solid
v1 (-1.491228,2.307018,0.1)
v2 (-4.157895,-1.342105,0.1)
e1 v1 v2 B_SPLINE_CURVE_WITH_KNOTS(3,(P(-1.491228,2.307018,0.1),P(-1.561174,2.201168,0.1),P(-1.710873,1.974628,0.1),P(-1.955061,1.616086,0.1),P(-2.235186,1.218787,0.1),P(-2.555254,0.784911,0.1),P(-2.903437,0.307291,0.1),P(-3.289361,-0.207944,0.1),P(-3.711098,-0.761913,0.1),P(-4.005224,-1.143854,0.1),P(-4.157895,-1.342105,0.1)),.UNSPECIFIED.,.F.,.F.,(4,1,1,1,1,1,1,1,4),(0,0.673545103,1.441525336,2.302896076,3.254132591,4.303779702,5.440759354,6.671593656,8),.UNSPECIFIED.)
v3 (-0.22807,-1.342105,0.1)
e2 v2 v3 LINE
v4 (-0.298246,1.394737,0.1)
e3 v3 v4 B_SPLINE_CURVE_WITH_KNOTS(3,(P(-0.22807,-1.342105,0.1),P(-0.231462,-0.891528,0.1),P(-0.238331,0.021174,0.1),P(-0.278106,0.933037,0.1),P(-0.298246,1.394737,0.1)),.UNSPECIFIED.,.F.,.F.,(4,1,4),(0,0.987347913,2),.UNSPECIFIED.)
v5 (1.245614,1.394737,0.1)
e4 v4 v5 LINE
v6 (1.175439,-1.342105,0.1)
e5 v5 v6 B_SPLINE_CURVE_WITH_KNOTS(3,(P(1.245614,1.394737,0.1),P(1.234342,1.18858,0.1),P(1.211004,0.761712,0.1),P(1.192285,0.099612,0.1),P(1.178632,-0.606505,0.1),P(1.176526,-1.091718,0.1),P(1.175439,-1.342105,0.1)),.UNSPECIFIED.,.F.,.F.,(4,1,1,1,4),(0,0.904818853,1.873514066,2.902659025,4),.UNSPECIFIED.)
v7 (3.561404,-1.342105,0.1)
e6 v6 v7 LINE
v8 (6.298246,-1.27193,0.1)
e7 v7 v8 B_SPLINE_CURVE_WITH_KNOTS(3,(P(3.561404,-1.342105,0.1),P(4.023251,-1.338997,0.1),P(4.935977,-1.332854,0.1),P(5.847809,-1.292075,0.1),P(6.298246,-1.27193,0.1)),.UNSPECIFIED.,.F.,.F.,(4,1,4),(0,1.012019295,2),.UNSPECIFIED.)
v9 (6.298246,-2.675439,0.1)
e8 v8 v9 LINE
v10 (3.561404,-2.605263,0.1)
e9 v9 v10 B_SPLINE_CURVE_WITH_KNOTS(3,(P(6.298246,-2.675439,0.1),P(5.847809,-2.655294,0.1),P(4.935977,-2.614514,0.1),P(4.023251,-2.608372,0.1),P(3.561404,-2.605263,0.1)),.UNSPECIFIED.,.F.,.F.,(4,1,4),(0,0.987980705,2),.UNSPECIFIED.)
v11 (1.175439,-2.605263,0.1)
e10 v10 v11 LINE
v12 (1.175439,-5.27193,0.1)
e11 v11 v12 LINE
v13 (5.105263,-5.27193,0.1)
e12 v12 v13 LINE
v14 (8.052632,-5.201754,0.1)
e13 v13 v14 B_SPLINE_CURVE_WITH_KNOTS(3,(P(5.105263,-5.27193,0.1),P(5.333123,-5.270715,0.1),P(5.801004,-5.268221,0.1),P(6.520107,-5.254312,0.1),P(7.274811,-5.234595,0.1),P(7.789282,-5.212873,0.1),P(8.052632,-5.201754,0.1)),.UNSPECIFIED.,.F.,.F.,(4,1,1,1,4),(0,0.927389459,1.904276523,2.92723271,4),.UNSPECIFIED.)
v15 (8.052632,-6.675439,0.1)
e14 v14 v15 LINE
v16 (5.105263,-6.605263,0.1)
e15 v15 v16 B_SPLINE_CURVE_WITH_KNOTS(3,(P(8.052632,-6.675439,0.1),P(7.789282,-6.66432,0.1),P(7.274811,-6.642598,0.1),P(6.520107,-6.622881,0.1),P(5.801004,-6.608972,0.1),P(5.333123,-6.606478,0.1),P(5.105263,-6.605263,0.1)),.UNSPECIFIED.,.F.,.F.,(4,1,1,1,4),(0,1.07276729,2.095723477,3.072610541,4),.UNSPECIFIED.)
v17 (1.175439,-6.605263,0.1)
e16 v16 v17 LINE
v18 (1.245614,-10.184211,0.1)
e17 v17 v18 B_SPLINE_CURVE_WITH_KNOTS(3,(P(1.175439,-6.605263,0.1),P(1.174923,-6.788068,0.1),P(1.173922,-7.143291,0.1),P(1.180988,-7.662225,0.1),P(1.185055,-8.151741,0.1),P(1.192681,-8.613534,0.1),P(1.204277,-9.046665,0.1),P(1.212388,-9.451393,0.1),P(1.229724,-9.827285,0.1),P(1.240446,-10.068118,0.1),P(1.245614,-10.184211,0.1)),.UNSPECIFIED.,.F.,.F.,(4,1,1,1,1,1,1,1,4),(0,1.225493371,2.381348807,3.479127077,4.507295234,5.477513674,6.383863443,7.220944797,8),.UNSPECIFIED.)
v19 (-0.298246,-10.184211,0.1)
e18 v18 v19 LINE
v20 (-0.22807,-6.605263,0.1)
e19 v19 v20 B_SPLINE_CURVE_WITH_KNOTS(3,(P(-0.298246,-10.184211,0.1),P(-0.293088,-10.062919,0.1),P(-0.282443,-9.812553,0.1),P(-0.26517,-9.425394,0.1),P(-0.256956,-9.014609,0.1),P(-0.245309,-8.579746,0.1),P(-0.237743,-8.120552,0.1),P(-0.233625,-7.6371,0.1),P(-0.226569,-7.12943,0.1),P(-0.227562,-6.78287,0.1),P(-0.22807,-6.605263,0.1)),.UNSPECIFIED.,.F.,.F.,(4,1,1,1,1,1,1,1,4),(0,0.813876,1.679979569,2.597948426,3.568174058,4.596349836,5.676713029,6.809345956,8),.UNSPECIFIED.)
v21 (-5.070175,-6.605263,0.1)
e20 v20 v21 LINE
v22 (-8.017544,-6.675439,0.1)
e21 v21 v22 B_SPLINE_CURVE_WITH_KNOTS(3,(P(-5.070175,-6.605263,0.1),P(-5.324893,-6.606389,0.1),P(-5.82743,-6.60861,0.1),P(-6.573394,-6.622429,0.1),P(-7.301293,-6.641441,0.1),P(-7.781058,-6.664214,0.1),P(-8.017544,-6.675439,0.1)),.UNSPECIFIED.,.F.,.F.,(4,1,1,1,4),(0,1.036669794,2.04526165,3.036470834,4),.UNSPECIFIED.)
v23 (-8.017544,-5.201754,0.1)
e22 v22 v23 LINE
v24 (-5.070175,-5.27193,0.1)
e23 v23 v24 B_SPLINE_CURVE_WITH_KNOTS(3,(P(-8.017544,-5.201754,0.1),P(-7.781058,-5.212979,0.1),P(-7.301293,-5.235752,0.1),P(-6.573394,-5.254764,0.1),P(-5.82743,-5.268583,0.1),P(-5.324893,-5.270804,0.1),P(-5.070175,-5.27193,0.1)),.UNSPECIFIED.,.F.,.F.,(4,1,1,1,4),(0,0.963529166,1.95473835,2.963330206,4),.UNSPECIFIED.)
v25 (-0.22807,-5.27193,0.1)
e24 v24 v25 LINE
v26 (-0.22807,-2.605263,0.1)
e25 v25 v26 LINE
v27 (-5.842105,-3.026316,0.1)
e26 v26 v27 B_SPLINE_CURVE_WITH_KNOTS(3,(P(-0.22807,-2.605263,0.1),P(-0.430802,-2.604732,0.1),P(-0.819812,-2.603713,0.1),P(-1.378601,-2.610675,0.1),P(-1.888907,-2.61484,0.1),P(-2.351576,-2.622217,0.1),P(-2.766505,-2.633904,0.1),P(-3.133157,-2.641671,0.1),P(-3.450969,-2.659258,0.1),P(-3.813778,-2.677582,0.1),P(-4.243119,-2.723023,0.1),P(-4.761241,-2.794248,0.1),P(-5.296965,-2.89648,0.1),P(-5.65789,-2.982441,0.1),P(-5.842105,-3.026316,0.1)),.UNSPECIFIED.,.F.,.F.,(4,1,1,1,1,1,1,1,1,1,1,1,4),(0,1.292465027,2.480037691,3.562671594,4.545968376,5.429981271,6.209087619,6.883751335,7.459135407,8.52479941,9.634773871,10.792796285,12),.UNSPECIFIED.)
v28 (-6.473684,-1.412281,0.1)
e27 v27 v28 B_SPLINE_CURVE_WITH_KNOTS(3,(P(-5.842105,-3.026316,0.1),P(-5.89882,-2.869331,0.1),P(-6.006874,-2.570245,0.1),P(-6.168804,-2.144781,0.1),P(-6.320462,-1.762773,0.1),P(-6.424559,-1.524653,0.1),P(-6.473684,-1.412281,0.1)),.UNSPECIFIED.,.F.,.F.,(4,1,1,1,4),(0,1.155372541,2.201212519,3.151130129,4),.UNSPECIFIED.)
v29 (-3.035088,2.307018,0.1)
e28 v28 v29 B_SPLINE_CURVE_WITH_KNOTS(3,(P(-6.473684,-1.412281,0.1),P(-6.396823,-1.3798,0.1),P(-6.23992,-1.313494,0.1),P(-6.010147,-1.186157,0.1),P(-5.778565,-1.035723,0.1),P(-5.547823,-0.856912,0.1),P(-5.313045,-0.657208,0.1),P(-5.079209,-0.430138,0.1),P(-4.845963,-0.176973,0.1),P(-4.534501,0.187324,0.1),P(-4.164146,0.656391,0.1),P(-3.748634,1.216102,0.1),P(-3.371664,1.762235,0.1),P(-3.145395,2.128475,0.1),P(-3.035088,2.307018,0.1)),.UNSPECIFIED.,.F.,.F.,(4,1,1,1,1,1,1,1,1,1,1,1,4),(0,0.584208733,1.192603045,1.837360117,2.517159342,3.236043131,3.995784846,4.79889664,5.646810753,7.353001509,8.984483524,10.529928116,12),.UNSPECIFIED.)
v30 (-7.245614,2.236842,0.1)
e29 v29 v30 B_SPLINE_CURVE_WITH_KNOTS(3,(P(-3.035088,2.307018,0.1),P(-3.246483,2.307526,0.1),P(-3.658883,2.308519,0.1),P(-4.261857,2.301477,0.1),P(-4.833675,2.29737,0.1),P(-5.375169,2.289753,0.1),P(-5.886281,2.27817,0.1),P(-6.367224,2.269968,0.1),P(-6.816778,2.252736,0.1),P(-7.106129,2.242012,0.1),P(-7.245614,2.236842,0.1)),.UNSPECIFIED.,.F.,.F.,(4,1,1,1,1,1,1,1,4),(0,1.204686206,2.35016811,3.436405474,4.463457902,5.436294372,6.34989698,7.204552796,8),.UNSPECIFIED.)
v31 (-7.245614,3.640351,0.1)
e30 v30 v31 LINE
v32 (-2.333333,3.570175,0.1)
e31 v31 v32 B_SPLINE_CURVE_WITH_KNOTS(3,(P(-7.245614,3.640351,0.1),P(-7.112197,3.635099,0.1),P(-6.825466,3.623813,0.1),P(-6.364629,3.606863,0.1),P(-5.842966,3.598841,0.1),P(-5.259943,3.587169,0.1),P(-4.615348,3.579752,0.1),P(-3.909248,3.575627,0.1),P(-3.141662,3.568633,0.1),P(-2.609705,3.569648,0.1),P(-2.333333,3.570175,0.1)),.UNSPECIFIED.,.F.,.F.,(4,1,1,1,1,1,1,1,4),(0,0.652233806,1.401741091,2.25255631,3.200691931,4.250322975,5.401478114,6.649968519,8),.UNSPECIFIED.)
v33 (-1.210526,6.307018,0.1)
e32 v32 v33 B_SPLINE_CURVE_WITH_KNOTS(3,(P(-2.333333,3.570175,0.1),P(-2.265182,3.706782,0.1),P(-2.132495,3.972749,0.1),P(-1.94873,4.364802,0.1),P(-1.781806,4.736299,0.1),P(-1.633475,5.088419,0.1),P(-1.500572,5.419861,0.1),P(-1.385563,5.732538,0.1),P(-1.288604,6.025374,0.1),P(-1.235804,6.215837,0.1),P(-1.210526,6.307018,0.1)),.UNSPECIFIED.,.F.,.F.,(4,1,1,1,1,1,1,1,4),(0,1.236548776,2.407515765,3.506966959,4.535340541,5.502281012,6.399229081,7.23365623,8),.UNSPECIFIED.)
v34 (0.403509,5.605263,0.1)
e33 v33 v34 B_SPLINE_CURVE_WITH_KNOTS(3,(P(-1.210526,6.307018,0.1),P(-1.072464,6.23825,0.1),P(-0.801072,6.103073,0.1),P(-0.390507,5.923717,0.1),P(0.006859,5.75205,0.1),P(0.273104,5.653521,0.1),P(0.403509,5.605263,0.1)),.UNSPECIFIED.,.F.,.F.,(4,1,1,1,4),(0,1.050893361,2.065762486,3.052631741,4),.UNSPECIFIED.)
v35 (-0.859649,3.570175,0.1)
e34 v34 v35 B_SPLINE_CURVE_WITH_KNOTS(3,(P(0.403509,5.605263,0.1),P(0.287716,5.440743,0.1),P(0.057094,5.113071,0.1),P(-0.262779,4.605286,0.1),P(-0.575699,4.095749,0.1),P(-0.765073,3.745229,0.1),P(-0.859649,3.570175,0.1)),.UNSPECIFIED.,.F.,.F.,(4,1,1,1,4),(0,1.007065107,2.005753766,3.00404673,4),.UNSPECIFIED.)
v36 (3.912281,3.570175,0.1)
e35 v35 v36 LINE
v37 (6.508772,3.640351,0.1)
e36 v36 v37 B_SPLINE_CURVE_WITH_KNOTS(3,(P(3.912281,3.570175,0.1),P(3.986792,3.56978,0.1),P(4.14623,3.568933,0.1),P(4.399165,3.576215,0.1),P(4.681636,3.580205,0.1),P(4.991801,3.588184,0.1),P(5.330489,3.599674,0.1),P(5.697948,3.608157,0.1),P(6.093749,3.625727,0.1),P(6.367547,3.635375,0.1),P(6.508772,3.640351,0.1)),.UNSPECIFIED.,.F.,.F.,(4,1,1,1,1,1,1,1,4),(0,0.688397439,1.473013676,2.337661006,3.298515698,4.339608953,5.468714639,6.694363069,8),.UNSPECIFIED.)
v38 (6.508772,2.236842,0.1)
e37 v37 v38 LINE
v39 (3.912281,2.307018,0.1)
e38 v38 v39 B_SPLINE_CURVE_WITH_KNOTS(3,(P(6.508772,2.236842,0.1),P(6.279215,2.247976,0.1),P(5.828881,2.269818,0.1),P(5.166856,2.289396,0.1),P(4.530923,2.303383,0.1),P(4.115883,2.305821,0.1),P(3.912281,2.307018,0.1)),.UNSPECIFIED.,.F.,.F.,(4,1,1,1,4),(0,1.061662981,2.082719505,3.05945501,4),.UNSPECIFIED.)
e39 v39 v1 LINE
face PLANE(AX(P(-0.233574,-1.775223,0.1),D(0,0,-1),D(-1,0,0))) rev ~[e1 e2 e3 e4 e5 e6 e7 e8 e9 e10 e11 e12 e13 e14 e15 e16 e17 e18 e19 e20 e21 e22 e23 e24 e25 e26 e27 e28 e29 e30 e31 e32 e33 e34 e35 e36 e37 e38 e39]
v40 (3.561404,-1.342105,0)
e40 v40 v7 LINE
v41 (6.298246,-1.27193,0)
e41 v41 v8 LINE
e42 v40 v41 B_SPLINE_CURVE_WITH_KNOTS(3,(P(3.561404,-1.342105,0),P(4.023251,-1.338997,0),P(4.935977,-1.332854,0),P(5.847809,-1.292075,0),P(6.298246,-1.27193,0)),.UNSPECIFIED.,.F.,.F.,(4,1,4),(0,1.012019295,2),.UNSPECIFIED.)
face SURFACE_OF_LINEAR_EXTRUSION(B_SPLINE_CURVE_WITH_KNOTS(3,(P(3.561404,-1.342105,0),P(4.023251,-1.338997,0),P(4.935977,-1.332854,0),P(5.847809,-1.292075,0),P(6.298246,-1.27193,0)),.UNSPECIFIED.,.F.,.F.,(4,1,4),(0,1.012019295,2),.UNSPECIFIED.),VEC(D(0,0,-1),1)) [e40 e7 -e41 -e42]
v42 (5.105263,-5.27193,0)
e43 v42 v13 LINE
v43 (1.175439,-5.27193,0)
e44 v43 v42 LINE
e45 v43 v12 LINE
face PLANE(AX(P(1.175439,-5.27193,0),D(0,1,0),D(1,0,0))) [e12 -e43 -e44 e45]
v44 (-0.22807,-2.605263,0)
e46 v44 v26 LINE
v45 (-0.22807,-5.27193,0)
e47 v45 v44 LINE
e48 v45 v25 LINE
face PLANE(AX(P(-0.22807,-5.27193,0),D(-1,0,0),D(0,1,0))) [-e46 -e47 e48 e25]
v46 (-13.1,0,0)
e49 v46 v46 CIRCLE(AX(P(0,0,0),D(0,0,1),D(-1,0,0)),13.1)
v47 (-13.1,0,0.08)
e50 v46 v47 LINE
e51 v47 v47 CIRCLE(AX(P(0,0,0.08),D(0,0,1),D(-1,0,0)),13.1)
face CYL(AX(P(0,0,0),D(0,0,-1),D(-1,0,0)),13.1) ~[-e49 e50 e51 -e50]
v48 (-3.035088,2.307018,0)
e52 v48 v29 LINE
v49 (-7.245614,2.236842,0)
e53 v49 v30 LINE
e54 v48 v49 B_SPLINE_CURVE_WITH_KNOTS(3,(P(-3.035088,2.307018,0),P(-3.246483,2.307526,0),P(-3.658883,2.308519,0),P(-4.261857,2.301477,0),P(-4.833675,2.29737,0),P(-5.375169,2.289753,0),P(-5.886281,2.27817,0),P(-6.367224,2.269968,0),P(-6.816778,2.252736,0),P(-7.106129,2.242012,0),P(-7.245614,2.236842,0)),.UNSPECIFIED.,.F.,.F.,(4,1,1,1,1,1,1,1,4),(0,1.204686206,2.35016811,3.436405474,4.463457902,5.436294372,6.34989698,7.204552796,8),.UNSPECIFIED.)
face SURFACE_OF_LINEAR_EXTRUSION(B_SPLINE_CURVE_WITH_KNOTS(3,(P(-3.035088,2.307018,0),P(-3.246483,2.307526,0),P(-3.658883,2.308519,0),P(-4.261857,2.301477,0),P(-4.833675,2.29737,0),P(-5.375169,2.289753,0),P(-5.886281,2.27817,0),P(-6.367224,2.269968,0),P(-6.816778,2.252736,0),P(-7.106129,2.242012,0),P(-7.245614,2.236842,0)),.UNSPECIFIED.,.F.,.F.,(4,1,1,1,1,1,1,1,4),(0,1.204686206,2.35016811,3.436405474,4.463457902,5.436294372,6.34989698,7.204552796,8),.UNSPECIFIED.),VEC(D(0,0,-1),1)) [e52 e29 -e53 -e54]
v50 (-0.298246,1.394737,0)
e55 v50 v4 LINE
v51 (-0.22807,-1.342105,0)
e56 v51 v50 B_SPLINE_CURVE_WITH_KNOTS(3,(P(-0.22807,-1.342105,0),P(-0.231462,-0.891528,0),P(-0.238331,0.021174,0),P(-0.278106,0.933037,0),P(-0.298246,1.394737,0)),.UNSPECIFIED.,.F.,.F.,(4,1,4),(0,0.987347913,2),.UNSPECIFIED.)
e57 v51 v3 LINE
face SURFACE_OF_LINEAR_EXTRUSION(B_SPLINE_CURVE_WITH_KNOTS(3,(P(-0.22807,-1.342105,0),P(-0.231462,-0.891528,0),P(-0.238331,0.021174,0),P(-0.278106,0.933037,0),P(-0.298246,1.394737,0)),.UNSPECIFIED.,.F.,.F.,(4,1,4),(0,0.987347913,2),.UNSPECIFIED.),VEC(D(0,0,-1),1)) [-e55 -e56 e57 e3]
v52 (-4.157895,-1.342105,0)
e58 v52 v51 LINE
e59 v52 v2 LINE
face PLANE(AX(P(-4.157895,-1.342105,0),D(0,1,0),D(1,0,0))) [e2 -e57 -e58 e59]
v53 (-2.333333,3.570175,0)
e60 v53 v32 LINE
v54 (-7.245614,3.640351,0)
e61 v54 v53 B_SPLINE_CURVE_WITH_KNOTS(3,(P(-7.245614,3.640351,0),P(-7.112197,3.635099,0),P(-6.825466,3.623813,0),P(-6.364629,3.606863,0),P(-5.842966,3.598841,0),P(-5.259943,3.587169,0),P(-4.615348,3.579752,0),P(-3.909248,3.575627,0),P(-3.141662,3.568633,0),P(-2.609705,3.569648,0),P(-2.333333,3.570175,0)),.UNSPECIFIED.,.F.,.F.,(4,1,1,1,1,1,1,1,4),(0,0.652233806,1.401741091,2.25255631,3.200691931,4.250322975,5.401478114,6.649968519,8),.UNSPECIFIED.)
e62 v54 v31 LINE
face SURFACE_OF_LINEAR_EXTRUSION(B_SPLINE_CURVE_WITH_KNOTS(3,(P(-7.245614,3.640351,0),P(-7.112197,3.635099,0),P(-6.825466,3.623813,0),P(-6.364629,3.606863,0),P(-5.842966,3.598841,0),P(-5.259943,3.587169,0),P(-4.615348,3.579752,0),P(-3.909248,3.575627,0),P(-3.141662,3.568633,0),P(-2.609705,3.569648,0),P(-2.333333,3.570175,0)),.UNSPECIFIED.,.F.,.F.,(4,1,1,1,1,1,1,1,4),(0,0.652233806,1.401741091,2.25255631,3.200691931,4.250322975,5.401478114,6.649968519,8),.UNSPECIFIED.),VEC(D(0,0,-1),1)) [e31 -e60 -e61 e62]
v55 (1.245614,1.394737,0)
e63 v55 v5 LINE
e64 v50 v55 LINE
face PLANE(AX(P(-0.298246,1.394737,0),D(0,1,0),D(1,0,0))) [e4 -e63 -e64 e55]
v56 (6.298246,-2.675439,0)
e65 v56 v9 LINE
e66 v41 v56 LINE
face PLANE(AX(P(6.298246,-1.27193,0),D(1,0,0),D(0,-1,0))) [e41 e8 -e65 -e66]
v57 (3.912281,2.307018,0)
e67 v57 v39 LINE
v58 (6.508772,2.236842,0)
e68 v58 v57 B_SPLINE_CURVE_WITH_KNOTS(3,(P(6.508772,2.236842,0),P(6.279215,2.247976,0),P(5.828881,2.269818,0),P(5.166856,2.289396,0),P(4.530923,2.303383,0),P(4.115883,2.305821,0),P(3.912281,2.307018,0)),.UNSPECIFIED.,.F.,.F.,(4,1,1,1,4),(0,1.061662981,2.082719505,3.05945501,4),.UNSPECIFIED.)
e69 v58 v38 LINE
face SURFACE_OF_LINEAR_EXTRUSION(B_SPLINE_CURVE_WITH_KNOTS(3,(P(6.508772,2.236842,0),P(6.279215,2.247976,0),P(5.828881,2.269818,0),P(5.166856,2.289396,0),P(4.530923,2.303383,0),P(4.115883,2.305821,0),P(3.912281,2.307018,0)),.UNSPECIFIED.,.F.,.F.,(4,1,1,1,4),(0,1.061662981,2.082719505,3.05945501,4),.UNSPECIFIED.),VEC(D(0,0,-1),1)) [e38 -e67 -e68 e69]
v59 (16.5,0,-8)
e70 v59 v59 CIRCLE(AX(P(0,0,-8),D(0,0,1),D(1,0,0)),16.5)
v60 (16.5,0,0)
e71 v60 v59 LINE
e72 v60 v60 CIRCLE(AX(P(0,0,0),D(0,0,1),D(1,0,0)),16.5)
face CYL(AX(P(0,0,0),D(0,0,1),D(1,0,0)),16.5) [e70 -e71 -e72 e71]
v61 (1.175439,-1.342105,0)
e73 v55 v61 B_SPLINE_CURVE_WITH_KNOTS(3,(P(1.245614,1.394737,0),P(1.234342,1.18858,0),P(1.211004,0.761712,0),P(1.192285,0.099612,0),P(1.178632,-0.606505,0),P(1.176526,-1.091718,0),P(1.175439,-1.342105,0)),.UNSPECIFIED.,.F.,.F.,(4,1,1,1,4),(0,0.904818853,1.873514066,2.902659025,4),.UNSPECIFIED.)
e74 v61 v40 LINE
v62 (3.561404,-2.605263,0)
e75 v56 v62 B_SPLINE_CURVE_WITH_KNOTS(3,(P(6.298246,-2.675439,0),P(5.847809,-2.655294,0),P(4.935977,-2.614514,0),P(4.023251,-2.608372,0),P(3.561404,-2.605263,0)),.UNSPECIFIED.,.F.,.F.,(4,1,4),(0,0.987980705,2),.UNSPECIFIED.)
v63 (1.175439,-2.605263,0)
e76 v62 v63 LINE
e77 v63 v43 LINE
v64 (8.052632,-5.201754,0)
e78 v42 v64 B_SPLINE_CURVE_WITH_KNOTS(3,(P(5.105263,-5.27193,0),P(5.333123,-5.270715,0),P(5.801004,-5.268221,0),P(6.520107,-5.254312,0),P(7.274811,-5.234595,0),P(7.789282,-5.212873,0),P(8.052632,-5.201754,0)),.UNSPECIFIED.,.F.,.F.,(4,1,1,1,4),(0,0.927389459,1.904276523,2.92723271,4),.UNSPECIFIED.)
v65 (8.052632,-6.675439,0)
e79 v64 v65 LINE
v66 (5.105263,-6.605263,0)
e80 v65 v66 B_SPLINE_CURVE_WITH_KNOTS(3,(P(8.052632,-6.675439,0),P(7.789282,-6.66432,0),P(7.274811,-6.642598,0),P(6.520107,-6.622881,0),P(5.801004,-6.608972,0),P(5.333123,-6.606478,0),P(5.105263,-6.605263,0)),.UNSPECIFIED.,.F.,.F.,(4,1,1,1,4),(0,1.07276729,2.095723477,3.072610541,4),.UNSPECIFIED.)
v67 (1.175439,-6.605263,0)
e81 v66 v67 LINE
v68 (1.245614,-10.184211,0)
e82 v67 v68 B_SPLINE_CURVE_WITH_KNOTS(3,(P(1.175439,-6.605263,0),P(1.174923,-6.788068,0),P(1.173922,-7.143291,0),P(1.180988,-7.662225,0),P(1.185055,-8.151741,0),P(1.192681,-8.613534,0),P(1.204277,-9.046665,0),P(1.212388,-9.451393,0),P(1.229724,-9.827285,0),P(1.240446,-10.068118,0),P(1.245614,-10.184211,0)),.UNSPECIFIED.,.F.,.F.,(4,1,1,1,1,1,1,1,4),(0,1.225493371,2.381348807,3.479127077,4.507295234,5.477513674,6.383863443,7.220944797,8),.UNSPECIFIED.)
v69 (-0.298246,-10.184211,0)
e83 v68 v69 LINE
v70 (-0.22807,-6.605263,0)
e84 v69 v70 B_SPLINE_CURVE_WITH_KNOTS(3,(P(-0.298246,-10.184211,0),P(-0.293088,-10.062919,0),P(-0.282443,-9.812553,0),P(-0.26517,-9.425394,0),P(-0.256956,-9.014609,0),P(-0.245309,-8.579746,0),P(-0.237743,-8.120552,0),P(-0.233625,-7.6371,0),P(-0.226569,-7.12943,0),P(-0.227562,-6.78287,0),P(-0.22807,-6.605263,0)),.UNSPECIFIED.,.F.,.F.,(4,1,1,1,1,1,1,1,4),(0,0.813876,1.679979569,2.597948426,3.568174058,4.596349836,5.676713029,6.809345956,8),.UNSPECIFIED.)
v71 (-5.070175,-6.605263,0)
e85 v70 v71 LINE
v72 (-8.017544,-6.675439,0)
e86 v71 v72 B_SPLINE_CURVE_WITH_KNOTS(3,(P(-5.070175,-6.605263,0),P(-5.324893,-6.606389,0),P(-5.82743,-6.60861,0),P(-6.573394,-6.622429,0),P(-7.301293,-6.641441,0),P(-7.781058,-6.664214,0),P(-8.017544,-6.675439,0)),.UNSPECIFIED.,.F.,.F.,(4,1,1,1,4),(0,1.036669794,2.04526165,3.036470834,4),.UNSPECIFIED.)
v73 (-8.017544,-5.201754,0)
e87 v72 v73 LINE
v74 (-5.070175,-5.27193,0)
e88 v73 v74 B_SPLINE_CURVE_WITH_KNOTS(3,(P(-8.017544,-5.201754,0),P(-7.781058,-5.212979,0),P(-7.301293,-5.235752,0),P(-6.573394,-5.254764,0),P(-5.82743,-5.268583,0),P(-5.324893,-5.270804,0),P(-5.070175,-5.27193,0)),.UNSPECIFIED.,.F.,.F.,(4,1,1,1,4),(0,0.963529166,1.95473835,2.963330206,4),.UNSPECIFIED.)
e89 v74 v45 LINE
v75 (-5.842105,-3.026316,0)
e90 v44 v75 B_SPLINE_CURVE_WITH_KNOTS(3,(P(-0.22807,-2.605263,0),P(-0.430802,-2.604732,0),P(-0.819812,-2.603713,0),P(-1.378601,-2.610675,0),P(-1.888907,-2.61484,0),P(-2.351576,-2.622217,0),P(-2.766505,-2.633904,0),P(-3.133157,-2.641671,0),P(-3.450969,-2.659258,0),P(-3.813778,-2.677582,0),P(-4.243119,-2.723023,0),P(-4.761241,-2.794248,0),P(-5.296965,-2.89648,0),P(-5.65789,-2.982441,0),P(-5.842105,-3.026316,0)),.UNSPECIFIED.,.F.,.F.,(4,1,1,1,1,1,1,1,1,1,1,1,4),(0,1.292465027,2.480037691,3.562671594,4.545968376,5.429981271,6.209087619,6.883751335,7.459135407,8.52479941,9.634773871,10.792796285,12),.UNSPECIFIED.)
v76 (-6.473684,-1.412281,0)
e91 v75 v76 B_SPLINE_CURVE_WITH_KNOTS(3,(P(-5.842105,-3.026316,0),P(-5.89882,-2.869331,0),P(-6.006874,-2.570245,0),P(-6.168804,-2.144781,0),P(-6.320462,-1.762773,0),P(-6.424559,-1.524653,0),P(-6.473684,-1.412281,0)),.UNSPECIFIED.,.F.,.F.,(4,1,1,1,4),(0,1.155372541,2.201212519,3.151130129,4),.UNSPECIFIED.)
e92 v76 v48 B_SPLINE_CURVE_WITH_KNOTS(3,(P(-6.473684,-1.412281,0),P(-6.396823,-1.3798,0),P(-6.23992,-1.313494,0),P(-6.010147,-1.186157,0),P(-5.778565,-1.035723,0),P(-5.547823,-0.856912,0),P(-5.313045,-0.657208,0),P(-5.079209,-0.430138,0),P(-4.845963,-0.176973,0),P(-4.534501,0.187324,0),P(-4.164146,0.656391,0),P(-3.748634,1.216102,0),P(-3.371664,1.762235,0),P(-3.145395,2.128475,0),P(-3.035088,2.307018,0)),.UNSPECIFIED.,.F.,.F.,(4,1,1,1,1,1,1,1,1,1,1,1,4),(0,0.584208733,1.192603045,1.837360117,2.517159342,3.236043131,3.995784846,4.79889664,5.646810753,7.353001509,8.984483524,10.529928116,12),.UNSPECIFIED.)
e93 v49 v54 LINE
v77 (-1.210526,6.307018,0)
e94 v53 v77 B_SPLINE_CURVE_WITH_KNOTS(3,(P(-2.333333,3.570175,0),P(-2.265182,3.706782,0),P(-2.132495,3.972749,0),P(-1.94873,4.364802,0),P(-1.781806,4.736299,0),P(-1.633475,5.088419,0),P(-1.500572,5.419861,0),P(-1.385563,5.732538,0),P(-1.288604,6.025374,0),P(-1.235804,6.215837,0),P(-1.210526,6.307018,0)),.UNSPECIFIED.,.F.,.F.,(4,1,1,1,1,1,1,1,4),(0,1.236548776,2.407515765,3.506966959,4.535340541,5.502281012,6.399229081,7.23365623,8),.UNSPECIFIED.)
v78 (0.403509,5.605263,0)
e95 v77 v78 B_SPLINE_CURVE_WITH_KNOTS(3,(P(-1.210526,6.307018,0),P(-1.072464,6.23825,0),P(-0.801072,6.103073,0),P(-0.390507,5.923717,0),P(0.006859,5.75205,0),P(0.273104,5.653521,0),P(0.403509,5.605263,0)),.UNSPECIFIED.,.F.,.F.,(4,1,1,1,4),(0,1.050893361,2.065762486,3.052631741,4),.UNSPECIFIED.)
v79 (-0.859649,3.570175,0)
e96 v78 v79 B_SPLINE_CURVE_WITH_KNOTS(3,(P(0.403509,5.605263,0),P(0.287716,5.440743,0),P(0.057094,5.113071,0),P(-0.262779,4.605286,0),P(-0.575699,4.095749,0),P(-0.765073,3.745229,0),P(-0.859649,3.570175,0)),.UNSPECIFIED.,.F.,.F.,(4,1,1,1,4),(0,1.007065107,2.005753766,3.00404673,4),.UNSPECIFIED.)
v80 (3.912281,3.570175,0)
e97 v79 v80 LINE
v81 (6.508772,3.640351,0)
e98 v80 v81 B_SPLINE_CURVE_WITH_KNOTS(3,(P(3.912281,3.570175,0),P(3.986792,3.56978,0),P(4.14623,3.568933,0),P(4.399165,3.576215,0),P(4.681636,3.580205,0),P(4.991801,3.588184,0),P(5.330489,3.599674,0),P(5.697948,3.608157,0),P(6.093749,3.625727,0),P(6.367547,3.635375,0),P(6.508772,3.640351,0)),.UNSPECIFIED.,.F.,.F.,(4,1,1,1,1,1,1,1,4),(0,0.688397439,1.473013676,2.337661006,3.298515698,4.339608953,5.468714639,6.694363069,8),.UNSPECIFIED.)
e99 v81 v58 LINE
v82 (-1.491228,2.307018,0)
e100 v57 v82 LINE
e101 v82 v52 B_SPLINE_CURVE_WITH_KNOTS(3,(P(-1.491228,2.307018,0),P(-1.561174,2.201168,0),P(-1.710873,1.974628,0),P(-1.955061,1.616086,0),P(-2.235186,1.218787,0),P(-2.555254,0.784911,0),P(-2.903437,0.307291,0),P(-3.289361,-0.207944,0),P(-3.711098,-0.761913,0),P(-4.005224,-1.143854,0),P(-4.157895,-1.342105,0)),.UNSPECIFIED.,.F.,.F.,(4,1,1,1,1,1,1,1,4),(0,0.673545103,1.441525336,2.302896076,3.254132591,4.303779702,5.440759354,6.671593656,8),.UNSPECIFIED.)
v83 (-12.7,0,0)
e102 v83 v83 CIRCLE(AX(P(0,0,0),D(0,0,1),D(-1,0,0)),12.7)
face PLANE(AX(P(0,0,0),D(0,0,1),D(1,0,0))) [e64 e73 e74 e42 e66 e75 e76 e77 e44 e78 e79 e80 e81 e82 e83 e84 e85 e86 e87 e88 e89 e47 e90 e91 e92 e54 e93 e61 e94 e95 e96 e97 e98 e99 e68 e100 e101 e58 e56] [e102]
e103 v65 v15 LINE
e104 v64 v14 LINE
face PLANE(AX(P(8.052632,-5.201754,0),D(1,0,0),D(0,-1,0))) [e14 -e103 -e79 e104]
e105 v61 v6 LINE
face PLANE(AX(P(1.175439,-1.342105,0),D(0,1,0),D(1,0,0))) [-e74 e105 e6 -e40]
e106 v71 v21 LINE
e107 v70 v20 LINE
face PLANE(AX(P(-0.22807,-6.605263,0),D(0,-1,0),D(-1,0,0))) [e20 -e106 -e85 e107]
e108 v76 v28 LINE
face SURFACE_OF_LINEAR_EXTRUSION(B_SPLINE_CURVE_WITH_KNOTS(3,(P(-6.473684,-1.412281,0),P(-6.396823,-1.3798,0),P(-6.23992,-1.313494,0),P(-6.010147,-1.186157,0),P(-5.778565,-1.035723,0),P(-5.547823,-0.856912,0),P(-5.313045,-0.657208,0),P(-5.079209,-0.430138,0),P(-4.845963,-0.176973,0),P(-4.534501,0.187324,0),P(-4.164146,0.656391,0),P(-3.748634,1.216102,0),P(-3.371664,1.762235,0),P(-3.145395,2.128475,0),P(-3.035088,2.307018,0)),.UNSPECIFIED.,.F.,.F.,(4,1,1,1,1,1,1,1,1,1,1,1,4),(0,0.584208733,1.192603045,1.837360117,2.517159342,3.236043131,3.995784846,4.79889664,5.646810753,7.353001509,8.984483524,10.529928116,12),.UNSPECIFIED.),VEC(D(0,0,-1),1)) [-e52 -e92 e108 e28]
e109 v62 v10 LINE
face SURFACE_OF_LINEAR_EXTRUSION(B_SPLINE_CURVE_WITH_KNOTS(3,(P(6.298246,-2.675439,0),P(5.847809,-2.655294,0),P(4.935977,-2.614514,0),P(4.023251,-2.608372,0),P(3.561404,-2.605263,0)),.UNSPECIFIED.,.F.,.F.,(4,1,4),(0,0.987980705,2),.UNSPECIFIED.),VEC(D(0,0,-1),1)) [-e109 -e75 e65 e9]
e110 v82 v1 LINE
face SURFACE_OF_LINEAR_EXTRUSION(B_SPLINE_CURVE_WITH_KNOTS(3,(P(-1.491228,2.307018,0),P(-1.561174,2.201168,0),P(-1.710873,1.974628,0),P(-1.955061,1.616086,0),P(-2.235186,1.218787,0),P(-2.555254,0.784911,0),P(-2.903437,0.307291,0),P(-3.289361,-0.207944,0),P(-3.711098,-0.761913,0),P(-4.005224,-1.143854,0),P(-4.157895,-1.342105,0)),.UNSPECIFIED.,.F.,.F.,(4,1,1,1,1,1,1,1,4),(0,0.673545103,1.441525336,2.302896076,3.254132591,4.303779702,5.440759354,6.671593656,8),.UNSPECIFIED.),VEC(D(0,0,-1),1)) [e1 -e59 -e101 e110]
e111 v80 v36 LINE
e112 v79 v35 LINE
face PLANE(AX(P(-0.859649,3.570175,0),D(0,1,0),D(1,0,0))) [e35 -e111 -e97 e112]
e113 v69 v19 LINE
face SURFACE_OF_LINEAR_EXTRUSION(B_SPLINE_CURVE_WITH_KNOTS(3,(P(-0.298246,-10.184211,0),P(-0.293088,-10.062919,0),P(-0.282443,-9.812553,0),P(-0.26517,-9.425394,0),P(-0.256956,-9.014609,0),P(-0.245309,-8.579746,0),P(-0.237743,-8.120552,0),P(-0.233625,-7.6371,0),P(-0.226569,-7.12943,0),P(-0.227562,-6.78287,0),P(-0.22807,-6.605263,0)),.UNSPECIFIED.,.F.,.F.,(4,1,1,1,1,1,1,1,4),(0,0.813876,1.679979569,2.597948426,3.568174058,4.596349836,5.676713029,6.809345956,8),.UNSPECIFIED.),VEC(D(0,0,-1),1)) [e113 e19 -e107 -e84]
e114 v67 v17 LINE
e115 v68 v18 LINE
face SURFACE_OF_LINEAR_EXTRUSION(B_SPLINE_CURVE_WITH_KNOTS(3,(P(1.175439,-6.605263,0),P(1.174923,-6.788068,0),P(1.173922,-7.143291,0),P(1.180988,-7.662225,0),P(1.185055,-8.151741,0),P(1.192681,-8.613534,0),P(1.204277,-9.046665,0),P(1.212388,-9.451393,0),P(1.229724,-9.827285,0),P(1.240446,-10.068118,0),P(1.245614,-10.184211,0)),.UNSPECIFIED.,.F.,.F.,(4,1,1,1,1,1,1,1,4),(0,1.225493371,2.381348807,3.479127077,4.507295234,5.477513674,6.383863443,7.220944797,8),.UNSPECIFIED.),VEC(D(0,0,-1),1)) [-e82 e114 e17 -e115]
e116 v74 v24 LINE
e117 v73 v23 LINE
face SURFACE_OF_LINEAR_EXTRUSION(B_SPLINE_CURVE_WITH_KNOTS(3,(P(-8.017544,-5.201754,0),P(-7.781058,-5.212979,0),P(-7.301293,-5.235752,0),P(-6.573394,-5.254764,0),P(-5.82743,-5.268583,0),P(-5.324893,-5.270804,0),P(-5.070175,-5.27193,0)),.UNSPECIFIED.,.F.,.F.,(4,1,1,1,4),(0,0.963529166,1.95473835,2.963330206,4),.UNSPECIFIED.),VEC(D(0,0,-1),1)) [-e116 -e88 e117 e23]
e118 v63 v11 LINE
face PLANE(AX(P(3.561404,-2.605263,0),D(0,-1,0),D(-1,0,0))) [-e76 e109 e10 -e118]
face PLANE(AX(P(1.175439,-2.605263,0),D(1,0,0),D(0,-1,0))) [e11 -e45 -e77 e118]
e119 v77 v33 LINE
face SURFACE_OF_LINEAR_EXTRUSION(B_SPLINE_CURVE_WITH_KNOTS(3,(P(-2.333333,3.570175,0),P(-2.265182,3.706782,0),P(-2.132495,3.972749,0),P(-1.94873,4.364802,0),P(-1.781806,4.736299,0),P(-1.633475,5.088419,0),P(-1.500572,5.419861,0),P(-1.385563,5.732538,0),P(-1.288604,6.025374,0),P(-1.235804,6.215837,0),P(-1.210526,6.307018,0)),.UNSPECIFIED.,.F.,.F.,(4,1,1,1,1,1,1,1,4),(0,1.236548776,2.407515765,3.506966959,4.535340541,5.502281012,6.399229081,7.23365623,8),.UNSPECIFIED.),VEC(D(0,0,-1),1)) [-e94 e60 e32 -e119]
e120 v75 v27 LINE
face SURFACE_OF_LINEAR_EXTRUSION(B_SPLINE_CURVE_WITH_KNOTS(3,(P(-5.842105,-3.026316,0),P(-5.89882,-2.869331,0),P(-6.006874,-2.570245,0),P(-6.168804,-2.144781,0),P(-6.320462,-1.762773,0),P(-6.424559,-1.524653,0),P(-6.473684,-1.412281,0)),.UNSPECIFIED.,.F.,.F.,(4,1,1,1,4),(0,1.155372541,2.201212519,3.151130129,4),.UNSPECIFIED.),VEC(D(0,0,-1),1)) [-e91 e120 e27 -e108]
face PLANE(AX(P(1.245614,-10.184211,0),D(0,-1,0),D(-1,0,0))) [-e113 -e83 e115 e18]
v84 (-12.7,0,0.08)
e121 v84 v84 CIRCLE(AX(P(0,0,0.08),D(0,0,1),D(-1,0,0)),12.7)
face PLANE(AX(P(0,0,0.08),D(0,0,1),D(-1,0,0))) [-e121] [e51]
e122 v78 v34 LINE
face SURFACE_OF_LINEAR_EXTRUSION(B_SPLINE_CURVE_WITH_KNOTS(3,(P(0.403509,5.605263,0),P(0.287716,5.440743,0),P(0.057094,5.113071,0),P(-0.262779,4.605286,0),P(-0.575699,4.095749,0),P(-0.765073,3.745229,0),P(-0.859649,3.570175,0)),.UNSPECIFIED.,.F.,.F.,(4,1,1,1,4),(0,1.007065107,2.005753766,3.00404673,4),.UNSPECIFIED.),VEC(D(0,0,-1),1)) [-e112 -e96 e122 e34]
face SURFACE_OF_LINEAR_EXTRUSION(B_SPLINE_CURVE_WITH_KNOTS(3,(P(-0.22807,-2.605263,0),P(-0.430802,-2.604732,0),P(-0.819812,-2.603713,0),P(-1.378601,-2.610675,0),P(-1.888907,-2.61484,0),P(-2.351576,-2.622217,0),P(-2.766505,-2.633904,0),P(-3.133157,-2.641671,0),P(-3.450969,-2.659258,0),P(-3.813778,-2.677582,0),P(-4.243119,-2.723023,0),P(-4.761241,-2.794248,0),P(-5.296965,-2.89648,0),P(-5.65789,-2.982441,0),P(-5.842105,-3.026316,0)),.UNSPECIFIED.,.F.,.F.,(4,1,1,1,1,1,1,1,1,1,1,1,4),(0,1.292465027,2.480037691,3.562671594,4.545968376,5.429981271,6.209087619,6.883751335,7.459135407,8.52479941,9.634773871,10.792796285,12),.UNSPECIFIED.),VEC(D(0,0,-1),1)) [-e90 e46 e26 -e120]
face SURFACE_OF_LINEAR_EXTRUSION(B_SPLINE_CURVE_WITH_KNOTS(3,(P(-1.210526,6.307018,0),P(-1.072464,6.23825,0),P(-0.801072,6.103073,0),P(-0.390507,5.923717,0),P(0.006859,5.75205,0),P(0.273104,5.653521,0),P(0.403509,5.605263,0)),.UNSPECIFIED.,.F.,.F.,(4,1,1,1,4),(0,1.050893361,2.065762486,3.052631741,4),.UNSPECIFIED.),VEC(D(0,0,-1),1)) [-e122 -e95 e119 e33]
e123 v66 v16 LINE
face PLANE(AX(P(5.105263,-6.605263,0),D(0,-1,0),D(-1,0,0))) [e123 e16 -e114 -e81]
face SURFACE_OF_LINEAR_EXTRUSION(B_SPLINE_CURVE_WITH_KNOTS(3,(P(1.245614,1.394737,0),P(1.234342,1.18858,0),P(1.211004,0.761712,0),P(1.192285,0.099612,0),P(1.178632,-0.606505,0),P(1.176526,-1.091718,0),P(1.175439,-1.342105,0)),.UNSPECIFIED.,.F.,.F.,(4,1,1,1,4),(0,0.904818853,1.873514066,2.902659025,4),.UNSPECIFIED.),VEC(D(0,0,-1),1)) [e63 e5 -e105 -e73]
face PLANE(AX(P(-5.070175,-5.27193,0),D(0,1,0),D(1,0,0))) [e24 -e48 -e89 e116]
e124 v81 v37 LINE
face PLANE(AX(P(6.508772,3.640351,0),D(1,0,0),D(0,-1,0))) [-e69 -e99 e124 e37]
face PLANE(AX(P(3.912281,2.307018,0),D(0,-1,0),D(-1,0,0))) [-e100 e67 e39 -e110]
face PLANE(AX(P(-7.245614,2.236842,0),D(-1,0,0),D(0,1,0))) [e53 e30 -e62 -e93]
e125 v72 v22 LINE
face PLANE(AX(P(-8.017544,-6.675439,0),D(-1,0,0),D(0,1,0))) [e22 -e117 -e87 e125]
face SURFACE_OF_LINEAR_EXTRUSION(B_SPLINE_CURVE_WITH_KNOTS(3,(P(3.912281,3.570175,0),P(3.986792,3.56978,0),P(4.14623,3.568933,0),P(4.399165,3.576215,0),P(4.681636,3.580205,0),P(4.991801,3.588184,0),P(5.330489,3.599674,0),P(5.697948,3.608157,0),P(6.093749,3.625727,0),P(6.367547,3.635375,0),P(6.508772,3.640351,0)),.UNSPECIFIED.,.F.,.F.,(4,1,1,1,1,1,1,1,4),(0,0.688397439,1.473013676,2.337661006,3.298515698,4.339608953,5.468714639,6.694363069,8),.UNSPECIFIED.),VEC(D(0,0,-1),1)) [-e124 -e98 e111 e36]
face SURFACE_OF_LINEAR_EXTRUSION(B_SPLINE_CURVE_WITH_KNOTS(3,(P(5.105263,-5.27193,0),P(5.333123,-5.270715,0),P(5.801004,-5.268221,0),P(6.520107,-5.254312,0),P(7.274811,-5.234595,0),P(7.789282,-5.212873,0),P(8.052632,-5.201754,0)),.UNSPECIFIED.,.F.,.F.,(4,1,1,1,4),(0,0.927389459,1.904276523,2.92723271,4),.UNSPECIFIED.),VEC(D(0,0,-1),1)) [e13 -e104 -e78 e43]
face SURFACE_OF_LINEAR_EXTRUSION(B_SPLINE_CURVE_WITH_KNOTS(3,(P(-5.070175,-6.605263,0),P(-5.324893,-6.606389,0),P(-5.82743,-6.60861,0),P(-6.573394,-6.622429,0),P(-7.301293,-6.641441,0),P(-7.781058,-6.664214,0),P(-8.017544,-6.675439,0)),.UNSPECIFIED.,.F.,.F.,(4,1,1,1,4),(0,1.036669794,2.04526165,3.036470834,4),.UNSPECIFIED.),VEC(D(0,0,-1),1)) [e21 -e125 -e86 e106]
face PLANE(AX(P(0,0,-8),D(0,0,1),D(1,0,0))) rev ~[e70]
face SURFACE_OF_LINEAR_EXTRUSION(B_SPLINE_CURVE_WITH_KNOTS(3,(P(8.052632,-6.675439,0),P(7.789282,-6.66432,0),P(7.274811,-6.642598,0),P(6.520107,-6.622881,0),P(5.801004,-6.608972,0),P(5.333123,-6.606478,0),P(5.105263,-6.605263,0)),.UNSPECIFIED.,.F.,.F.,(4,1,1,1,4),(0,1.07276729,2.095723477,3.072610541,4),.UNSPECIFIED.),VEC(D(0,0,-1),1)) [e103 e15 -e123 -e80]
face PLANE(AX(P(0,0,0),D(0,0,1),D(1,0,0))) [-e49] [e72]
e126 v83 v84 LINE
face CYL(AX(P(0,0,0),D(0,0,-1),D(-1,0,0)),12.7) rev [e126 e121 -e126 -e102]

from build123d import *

# Parameters (mm, degrees)
SKETCH_1_R               = 16.5
DIAMETER33_HEIGHT8_DEPTH = 8
CHARACTER_DEPTH          = 0.1
SKETCH_3_R               = 13.1
SKETCH_3_R_2             = 12.7
INK_RING_DEPTH           = 0.08


with BuildPart() as part:
    # 草图1 → Diameter33_Height8 (new body)
    with BuildSketch(Plane.XY):
        Circle(SKETCH_1_R)
    extrude(amount=-DIAMETER33_HEIGHT8_DEPTH)

    # 草图2 → Character_车 (add)
    with BuildSketch(Plane.XY):
        with BuildLine():
            add(Edge.make_bspline(
                [(-5.842105263, -3.026315789), (-5.898820329, -2.869331425), (-6.006873714, -2.570245254), (-6.168804206, -2.144780878), (-6.320461844, -1.762772614), (-6.42455933, -1.524652502), (-6.473684211, -1.412280702)],
                knots=[0, 0, 0, 0, 1.155372541, 2.201212519, 3.151130129, 4, 4, 4, 4], degree=3))
            add(Edge.make_bspline(
                [(-6.473684211, -1.412280702), (-6.396823444, -1.379800087), (-6.239919961, -1.313494196), (-6.010146568, -1.186156652), (-5.778564765, -1.035723149), (-5.547823353, -0.856912408), (-5.313044861, -0.657208498), (-5.079209262, -0.430138074), (-4.845963085, -0.176973346), (-4.534501394, 0.18732381), (-4.164145867, 0.656391458), (-3.748633816, 1.216101595), (-3.371664409, 1.762234908), (-3.145394749, 2.128474715), (-3.035087719, 2.307017544)],
                knots=[0, 0, 0, 0, 0.584208733, 1.192603045, 1.837360117, 2.517159342, 3.236043131, 3.995784846, 4.79889664, 5.646810753, 7.353001509, 8.984483524, 10.529928116, 12, 12, 12, 12], degree=3))
            add(Edge.make_bspline(
                [(-3.035087719, 2.307017544), (-3.246482619, 2.307526273), (-3.658883418, 2.308518731), (-4.261856974, 2.301476847), (-4.833674599, 2.297370313), (-5.375169247, 2.289752816), (-5.886281193, 2.27816959), (-6.367224064, 2.269967872), (-6.816777836, 2.252736276), (-7.106129451, 2.242011892), (-7.245614035, 2.236842105)],
                knots=[0, 0, 0, 0, 1.204686206, 2.35016811, 3.436405474, 4.463457902, 5.436294372, 6.34989698, 7.204552796, 8, 8, 8, 8], degree=3))
            Line((-7.245614035, 2.236842105), (-7.245614035, 3.640350877))
            add(Edge.make_bspline(
                [(-7.245614035, 3.640350877), (-7.112197092, 3.635099441), (-6.825465539, 3.623813374), (-6.364629063, 3.606862837), (-5.842966328, 3.598841349), (-5.259942843, 3.587169275), (-4.61534822, 3.57975231), (-3.909248078, 3.575626696), (-3.141661522, 3.568632873), (-2.609705057, 3.569648027), (-2.333333333, 3.570175439)],
                knots=[0, 0, 0, 0, 0.652233806, 1.401741091, 2.25255631, 3.200691931, 4.250322975, 5.401478114, 6.649968519, 8, 8, 8, 8], degree=3))
            add(Edge.make_bspline(
                [(-2.333333333, 3.570175439), (-2.265182445, 3.706781651), (-2.13249513, 3.972749008), (-1.948730322, 4.364802108), (-1.781805751, 4.736299128), (-1.633474827, 5.088418502), (-1.500571846, 5.419860952), (-1.385562669, 5.732537711), (-1.288604233, 6.025373857), (-1.235803724, 6.215836544), (-1.210526316, 6.307017544)],
                knots=[0, 0, 0, 0, 1.236548776, 2.407515765, 3.506966959, 4.535340541, 5.502281012, 6.399229081, 7.23365623, 8, 8, 8, 8], degree=3))
            add(Edge.make_bspline(
                [(-1.210526316, 6.307017544), (-1.072464078, 6.238250423), (-0.801072324, 6.103073492), (-0.390506761, 5.92371698), (0.006858558, 5.752049753), (0.273104458, 5.653521307), (0.403508772, 5.605263158)],
                knots=[0, 0, 0, 0, 1.050893361, 2.065762486, 3.052631741, 4, 4, 4, 4], degree=3))
            add(Edge.make_bspline(
                [(0.403508772, 5.605263158), (0.287716291, 5.440743002), (0.057094455, 5.113071117), (-0.262779106, 4.605286149), (-0.575699306, 4.095748706), (-0.765073243, 3.745229449), (-0.859649123, 3.570175439)],
                knots=[0, 0, 0, 0, 1.007065107, 2.005753766, 3.00404673, 4, 4, 4, 4], degree=3))
            Line((-0.859649123, 3.570175439), (3.912280702, 3.570175439))
            add(Edge.make_bspline(
                [(3.912280702, 3.570175439), (3.986792128, 3.569779735), (4.146229603, 3.568933021), (4.399164705, 3.576215116), (4.681635542, 3.580205028), (4.991801347, 3.588183635), (5.330489118, 3.599673551), (5.697948203, 3.608156571), (6.093748619, 3.625727153), (6.367546823, 3.635374682), (6.50877193, 3.640350877)],
                knots=[0, 0, 0, 0, 0.688397439, 1.473013676, 2.337661006, 3.298515698, 4.339608953, 5.468714639, 6.694363069, 8, 8, 8, 8], degree=3))
            Line((6.50877193, 3.640350877), (6.50877193, 2.236842105))
            add(Edge.make_bspline(
                [(6.50877193, 2.236842105), (6.279214943, 2.247975922), (5.82888106, 2.269817709), (5.1668562, 2.289395513), (4.530922728, 2.303382911), (4.115883288, 2.305821342), (3.912280702, 2.307017544)],
                knots=[0, 0, 0, 0, 1.061662981, 2.082719505, 3.05945501, 4, 4, 4, 4], degree=3))
            Line((3.912280702, 2.307017544), (-1.49122807, 2.307017544))
            add(Edge.make_bspline(
                [(-1.49122807, 2.307017544), (-1.56117399, 2.201167925), (-1.710872673, 1.974627926), (-1.95506101, 1.616085811), (-2.235185889, 1.218787258), (-2.555254083, 0.784910796), (-2.903437302, 0.30729052), (-3.289360757, -0.207943656), (-3.711097719, -0.76191269), (-4.005224498, -1.143853854), (-4.157894737, -1.342105263)],
                knots=[0, 0, 0, 0, 0.673545103, 1.441525336, 2.302896076, 3.254132591, 4.303779702, 5.440759354, 6.671593656, 8, 8, 8, 8], degree=3))
            Line((-4.157894737, -1.342105263), (-0.228070175, -1.342105263))
            add(Edge.make_bspline(
                [(-0.228070175, -1.342105263), (-0.231461537, -0.891528138), (-0.238331174, 0.021173694), (-0.278106388, 0.933036802), (-0.298245614, 1.394736842)],
                knots=[0, 0, 0, 0, 0.987347913, 2, 2, 2, 2], degree=3))
            Line((-0.298245614, 1.394736842), (1.245614035, 1.394736842))
            add(Edge.make_bspline(
                [(1.245614035, 1.394736842), (1.234342441, 1.188579897), (1.211003525, 0.761712205), (1.192285381, 0.099612341), (1.178632375, -0.606505386), (1.176525709, -1.091718406), (1.175438596, -1.342105263)],
                knots=[0, 0, 0, 0, 0.904818853, 1.873514066, 2.902659025, 4, 4, 4, 4], degree=3))
            Line((1.175438596, -1.342105263), (3.561403509, -1.342105263))
            add(Edge.make_bspline(
                [(3.561403509, -1.342105263), (4.023251472, -1.338996907), (4.935977079, -1.332854028), (5.847809296, -1.292074512), (6.298245614, -1.271929825)],
                knots=[0, 0, 0, 0, 1.012019295, 2, 2, 2, 2], degree=3))
            Line((6.298245614, -1.271929825), (6.298245614, -2.675438596))
            add(Edge.make_bspline(
                [(6.298245614, -2.675438596), (5.847809296, -2.655293909), (4.935977079, -2.614514393), (4.023251472, -2.608371514), (3.561403509, -2.605263158)],
                knots=[0, 0, 0, 0, 0.987980705, 2, 2, 2, 2], degree=3))
            Line((3.561403509, -2.605263158), (1.175438596, -2.605263158))
            Line((1.175438596, -2.605263158), (1.175438596, -5.271929825))
            Line((1.175438596, -5.271929825), (5.105263158, -5.271929825))
            add(Edge.make_bspline(
                [(5.105263158, -5.271929825), (5.333122844, -5.270715306), (5.801003783, -5.268221447), (6.520106526, -5.254311899), (7.274811493, -5.234595053), (7.789282241, -5.212873368), (8.052631579, -5.201754386)],
                knots=[0, 0, 0, 0, 0.927389459, 1.904276523, 2.92723271, 4, 4, 4, 4], degree=3))
            Line((8.052631579, -5.201754386), (8.052631579, -6.675438596))
            add(Edge.make_bspline(
                [(8.052631579, -6.675438596), (7.789282241, -6.664319614), (7.274811493, -6.64259793), (6.520106526, -6.622881083), (5.801003783, -6.608971535), (5.333122844, -6.606477676), (5.105263158, -6.605263158)],
                knots=[0, 0, 0, 0, 1.07276729, 2.095723477, 3.072610541, 4, 4, 4, 4], degree=3))
            Line((5.105263158, -6.605263158), (1.175438596, -6.605263158))
            add(Edge.make_bspline(
                [(1.175438596, -6.605263158), (1.17492319, -6.788068469), (1.173921664, -7.143291287), (1.180988322, -7.662224869), (1.185055025, -8.151741366), (1.192680502, -8.613534144), (1.204276819, -9.04666503), (1.212388046, -9.451393023), (1.229724118, -9.827285169), (1.240445713, -10.06811771), (1.245614035, -10.184210526)],
                knots=[0, 0, 0, 0, 1.225493371, 2.381348807, 3.479127077, 4.507295234, 5.477513674, 6.383863443, 7.220944797, 8, 8, 8, 8], degree=3))
            Line((1.245614035, -10.184210526), (-0.298245614, -10.184210526))
            add(Edge.make_bspline(
                [(-0.298245614, -10.184210526), (-0.293088467, -10.062919018), (-0.28244323, -9.812552555), (-0.26517016, -9.425394066), (-0.256955584, -9.014609066), (-0.245308677, -8.579745809), (-0.237743343, -8.120551737), (-0.233625145, -7.637100266), (-0.226569426, -7.129429714), (-0.227561666, -6.782870303), (-0.228070175, -6.605263158)],
                knots=[0, 0, 0, 0, 0.813876, 1.679979569, 2.597948426, 3.568174058, 4.596349836, 5.676713029, 6.809345956, 8, 8, 8, 8], degree=3))
            Line((-0.228070175, -6.605263158), (-5.070175439, -6.605263158))
            add(Edge.make_bspline(
                [(-5.070175439, -6.605263158), (-5.324893201, -6.606388994), (-5.827429759, -6.608610173), (-6.573394245, -6.622429105), (-7.301292576, -6.641441143), (-7.781058, -6.664213602), (-8.01754386, -6.675438596)],
                knots=[0, 0, 0, 0, 1.036669794, 2.04526165, 3.036470834, 4, 4, 4, 4], degree=3))
            Line((-8.01754386, -6.675438596), (-8.01754386, -5.201754386))
            add(Edge.make_bspline(
                [(-8.01754386, -5.201754386), (-7.781058, -5.212979381), (-7.301292576, -5.235751839), (-6.573394245, -5.254763877), (-5.827429759, -5.268582809), (-5.324893201, -5.270803988), (-5.070175439, -5.271929825)],
                knots=[0, 0, 0, 0, 0.963529166, 1.95473835, 2.963330206, 4, 4, 4, 4], degree=3))
            Line((-5.070175439, -5.271929825), (-0.228070175, -5.271929825))
            Line((-0.228070175, -5.271929825), (-0.228070175, -2.605263158))
            add(Edge.make_bspline(
                [(-0.228070175, -2.605263158), (-0.430801667, -2.604732204), (-0.819811605, -2.603713387), (-1.378600845, -2.610674903), (-1.888907343, -2.614839935), (-2.351576194, -2.622216615), (-2.76650508, -2.633903903), (-3.133156573, -2.641670696), (-3.450969213, -2.659258343), (-3.813777921, -2.677582124), (-4.243119388, -2.723022723), (-4.761241386, -2.794248367), (-5.296964879, -2.896480162), (-5.65789017, -2.982441435), (-5.842105263, -3.026315789)],
                knots=[0, 0, 0, 0, 1.292465027, 2.480037691, 3.562671594, 4.545968376, 5.429981271, 6.209087619, 6.883751335, 7.459135407, 8.52479941, 9.634773871, 10.792796285, 12, 12, 12, 12], degree=3))
        make_face()
    extrude(amount=CHARACTER_DEPTH)

    # 草图3 → Ink_ring (add)
    with BuildSketch(Plane.XY):
        with Locations(Location((0, 0, 0), (0, 0, 180))):
            Circle(SKETCH_3_R)
        with Locations(Location((0, 0, 0), (0, 0, 180))):
            Circle(SKETCH_3_R_2, mode=Mode.SUBTRACT)
    extrude(amount=INK_RING_DEPTH)


solid = part.part
